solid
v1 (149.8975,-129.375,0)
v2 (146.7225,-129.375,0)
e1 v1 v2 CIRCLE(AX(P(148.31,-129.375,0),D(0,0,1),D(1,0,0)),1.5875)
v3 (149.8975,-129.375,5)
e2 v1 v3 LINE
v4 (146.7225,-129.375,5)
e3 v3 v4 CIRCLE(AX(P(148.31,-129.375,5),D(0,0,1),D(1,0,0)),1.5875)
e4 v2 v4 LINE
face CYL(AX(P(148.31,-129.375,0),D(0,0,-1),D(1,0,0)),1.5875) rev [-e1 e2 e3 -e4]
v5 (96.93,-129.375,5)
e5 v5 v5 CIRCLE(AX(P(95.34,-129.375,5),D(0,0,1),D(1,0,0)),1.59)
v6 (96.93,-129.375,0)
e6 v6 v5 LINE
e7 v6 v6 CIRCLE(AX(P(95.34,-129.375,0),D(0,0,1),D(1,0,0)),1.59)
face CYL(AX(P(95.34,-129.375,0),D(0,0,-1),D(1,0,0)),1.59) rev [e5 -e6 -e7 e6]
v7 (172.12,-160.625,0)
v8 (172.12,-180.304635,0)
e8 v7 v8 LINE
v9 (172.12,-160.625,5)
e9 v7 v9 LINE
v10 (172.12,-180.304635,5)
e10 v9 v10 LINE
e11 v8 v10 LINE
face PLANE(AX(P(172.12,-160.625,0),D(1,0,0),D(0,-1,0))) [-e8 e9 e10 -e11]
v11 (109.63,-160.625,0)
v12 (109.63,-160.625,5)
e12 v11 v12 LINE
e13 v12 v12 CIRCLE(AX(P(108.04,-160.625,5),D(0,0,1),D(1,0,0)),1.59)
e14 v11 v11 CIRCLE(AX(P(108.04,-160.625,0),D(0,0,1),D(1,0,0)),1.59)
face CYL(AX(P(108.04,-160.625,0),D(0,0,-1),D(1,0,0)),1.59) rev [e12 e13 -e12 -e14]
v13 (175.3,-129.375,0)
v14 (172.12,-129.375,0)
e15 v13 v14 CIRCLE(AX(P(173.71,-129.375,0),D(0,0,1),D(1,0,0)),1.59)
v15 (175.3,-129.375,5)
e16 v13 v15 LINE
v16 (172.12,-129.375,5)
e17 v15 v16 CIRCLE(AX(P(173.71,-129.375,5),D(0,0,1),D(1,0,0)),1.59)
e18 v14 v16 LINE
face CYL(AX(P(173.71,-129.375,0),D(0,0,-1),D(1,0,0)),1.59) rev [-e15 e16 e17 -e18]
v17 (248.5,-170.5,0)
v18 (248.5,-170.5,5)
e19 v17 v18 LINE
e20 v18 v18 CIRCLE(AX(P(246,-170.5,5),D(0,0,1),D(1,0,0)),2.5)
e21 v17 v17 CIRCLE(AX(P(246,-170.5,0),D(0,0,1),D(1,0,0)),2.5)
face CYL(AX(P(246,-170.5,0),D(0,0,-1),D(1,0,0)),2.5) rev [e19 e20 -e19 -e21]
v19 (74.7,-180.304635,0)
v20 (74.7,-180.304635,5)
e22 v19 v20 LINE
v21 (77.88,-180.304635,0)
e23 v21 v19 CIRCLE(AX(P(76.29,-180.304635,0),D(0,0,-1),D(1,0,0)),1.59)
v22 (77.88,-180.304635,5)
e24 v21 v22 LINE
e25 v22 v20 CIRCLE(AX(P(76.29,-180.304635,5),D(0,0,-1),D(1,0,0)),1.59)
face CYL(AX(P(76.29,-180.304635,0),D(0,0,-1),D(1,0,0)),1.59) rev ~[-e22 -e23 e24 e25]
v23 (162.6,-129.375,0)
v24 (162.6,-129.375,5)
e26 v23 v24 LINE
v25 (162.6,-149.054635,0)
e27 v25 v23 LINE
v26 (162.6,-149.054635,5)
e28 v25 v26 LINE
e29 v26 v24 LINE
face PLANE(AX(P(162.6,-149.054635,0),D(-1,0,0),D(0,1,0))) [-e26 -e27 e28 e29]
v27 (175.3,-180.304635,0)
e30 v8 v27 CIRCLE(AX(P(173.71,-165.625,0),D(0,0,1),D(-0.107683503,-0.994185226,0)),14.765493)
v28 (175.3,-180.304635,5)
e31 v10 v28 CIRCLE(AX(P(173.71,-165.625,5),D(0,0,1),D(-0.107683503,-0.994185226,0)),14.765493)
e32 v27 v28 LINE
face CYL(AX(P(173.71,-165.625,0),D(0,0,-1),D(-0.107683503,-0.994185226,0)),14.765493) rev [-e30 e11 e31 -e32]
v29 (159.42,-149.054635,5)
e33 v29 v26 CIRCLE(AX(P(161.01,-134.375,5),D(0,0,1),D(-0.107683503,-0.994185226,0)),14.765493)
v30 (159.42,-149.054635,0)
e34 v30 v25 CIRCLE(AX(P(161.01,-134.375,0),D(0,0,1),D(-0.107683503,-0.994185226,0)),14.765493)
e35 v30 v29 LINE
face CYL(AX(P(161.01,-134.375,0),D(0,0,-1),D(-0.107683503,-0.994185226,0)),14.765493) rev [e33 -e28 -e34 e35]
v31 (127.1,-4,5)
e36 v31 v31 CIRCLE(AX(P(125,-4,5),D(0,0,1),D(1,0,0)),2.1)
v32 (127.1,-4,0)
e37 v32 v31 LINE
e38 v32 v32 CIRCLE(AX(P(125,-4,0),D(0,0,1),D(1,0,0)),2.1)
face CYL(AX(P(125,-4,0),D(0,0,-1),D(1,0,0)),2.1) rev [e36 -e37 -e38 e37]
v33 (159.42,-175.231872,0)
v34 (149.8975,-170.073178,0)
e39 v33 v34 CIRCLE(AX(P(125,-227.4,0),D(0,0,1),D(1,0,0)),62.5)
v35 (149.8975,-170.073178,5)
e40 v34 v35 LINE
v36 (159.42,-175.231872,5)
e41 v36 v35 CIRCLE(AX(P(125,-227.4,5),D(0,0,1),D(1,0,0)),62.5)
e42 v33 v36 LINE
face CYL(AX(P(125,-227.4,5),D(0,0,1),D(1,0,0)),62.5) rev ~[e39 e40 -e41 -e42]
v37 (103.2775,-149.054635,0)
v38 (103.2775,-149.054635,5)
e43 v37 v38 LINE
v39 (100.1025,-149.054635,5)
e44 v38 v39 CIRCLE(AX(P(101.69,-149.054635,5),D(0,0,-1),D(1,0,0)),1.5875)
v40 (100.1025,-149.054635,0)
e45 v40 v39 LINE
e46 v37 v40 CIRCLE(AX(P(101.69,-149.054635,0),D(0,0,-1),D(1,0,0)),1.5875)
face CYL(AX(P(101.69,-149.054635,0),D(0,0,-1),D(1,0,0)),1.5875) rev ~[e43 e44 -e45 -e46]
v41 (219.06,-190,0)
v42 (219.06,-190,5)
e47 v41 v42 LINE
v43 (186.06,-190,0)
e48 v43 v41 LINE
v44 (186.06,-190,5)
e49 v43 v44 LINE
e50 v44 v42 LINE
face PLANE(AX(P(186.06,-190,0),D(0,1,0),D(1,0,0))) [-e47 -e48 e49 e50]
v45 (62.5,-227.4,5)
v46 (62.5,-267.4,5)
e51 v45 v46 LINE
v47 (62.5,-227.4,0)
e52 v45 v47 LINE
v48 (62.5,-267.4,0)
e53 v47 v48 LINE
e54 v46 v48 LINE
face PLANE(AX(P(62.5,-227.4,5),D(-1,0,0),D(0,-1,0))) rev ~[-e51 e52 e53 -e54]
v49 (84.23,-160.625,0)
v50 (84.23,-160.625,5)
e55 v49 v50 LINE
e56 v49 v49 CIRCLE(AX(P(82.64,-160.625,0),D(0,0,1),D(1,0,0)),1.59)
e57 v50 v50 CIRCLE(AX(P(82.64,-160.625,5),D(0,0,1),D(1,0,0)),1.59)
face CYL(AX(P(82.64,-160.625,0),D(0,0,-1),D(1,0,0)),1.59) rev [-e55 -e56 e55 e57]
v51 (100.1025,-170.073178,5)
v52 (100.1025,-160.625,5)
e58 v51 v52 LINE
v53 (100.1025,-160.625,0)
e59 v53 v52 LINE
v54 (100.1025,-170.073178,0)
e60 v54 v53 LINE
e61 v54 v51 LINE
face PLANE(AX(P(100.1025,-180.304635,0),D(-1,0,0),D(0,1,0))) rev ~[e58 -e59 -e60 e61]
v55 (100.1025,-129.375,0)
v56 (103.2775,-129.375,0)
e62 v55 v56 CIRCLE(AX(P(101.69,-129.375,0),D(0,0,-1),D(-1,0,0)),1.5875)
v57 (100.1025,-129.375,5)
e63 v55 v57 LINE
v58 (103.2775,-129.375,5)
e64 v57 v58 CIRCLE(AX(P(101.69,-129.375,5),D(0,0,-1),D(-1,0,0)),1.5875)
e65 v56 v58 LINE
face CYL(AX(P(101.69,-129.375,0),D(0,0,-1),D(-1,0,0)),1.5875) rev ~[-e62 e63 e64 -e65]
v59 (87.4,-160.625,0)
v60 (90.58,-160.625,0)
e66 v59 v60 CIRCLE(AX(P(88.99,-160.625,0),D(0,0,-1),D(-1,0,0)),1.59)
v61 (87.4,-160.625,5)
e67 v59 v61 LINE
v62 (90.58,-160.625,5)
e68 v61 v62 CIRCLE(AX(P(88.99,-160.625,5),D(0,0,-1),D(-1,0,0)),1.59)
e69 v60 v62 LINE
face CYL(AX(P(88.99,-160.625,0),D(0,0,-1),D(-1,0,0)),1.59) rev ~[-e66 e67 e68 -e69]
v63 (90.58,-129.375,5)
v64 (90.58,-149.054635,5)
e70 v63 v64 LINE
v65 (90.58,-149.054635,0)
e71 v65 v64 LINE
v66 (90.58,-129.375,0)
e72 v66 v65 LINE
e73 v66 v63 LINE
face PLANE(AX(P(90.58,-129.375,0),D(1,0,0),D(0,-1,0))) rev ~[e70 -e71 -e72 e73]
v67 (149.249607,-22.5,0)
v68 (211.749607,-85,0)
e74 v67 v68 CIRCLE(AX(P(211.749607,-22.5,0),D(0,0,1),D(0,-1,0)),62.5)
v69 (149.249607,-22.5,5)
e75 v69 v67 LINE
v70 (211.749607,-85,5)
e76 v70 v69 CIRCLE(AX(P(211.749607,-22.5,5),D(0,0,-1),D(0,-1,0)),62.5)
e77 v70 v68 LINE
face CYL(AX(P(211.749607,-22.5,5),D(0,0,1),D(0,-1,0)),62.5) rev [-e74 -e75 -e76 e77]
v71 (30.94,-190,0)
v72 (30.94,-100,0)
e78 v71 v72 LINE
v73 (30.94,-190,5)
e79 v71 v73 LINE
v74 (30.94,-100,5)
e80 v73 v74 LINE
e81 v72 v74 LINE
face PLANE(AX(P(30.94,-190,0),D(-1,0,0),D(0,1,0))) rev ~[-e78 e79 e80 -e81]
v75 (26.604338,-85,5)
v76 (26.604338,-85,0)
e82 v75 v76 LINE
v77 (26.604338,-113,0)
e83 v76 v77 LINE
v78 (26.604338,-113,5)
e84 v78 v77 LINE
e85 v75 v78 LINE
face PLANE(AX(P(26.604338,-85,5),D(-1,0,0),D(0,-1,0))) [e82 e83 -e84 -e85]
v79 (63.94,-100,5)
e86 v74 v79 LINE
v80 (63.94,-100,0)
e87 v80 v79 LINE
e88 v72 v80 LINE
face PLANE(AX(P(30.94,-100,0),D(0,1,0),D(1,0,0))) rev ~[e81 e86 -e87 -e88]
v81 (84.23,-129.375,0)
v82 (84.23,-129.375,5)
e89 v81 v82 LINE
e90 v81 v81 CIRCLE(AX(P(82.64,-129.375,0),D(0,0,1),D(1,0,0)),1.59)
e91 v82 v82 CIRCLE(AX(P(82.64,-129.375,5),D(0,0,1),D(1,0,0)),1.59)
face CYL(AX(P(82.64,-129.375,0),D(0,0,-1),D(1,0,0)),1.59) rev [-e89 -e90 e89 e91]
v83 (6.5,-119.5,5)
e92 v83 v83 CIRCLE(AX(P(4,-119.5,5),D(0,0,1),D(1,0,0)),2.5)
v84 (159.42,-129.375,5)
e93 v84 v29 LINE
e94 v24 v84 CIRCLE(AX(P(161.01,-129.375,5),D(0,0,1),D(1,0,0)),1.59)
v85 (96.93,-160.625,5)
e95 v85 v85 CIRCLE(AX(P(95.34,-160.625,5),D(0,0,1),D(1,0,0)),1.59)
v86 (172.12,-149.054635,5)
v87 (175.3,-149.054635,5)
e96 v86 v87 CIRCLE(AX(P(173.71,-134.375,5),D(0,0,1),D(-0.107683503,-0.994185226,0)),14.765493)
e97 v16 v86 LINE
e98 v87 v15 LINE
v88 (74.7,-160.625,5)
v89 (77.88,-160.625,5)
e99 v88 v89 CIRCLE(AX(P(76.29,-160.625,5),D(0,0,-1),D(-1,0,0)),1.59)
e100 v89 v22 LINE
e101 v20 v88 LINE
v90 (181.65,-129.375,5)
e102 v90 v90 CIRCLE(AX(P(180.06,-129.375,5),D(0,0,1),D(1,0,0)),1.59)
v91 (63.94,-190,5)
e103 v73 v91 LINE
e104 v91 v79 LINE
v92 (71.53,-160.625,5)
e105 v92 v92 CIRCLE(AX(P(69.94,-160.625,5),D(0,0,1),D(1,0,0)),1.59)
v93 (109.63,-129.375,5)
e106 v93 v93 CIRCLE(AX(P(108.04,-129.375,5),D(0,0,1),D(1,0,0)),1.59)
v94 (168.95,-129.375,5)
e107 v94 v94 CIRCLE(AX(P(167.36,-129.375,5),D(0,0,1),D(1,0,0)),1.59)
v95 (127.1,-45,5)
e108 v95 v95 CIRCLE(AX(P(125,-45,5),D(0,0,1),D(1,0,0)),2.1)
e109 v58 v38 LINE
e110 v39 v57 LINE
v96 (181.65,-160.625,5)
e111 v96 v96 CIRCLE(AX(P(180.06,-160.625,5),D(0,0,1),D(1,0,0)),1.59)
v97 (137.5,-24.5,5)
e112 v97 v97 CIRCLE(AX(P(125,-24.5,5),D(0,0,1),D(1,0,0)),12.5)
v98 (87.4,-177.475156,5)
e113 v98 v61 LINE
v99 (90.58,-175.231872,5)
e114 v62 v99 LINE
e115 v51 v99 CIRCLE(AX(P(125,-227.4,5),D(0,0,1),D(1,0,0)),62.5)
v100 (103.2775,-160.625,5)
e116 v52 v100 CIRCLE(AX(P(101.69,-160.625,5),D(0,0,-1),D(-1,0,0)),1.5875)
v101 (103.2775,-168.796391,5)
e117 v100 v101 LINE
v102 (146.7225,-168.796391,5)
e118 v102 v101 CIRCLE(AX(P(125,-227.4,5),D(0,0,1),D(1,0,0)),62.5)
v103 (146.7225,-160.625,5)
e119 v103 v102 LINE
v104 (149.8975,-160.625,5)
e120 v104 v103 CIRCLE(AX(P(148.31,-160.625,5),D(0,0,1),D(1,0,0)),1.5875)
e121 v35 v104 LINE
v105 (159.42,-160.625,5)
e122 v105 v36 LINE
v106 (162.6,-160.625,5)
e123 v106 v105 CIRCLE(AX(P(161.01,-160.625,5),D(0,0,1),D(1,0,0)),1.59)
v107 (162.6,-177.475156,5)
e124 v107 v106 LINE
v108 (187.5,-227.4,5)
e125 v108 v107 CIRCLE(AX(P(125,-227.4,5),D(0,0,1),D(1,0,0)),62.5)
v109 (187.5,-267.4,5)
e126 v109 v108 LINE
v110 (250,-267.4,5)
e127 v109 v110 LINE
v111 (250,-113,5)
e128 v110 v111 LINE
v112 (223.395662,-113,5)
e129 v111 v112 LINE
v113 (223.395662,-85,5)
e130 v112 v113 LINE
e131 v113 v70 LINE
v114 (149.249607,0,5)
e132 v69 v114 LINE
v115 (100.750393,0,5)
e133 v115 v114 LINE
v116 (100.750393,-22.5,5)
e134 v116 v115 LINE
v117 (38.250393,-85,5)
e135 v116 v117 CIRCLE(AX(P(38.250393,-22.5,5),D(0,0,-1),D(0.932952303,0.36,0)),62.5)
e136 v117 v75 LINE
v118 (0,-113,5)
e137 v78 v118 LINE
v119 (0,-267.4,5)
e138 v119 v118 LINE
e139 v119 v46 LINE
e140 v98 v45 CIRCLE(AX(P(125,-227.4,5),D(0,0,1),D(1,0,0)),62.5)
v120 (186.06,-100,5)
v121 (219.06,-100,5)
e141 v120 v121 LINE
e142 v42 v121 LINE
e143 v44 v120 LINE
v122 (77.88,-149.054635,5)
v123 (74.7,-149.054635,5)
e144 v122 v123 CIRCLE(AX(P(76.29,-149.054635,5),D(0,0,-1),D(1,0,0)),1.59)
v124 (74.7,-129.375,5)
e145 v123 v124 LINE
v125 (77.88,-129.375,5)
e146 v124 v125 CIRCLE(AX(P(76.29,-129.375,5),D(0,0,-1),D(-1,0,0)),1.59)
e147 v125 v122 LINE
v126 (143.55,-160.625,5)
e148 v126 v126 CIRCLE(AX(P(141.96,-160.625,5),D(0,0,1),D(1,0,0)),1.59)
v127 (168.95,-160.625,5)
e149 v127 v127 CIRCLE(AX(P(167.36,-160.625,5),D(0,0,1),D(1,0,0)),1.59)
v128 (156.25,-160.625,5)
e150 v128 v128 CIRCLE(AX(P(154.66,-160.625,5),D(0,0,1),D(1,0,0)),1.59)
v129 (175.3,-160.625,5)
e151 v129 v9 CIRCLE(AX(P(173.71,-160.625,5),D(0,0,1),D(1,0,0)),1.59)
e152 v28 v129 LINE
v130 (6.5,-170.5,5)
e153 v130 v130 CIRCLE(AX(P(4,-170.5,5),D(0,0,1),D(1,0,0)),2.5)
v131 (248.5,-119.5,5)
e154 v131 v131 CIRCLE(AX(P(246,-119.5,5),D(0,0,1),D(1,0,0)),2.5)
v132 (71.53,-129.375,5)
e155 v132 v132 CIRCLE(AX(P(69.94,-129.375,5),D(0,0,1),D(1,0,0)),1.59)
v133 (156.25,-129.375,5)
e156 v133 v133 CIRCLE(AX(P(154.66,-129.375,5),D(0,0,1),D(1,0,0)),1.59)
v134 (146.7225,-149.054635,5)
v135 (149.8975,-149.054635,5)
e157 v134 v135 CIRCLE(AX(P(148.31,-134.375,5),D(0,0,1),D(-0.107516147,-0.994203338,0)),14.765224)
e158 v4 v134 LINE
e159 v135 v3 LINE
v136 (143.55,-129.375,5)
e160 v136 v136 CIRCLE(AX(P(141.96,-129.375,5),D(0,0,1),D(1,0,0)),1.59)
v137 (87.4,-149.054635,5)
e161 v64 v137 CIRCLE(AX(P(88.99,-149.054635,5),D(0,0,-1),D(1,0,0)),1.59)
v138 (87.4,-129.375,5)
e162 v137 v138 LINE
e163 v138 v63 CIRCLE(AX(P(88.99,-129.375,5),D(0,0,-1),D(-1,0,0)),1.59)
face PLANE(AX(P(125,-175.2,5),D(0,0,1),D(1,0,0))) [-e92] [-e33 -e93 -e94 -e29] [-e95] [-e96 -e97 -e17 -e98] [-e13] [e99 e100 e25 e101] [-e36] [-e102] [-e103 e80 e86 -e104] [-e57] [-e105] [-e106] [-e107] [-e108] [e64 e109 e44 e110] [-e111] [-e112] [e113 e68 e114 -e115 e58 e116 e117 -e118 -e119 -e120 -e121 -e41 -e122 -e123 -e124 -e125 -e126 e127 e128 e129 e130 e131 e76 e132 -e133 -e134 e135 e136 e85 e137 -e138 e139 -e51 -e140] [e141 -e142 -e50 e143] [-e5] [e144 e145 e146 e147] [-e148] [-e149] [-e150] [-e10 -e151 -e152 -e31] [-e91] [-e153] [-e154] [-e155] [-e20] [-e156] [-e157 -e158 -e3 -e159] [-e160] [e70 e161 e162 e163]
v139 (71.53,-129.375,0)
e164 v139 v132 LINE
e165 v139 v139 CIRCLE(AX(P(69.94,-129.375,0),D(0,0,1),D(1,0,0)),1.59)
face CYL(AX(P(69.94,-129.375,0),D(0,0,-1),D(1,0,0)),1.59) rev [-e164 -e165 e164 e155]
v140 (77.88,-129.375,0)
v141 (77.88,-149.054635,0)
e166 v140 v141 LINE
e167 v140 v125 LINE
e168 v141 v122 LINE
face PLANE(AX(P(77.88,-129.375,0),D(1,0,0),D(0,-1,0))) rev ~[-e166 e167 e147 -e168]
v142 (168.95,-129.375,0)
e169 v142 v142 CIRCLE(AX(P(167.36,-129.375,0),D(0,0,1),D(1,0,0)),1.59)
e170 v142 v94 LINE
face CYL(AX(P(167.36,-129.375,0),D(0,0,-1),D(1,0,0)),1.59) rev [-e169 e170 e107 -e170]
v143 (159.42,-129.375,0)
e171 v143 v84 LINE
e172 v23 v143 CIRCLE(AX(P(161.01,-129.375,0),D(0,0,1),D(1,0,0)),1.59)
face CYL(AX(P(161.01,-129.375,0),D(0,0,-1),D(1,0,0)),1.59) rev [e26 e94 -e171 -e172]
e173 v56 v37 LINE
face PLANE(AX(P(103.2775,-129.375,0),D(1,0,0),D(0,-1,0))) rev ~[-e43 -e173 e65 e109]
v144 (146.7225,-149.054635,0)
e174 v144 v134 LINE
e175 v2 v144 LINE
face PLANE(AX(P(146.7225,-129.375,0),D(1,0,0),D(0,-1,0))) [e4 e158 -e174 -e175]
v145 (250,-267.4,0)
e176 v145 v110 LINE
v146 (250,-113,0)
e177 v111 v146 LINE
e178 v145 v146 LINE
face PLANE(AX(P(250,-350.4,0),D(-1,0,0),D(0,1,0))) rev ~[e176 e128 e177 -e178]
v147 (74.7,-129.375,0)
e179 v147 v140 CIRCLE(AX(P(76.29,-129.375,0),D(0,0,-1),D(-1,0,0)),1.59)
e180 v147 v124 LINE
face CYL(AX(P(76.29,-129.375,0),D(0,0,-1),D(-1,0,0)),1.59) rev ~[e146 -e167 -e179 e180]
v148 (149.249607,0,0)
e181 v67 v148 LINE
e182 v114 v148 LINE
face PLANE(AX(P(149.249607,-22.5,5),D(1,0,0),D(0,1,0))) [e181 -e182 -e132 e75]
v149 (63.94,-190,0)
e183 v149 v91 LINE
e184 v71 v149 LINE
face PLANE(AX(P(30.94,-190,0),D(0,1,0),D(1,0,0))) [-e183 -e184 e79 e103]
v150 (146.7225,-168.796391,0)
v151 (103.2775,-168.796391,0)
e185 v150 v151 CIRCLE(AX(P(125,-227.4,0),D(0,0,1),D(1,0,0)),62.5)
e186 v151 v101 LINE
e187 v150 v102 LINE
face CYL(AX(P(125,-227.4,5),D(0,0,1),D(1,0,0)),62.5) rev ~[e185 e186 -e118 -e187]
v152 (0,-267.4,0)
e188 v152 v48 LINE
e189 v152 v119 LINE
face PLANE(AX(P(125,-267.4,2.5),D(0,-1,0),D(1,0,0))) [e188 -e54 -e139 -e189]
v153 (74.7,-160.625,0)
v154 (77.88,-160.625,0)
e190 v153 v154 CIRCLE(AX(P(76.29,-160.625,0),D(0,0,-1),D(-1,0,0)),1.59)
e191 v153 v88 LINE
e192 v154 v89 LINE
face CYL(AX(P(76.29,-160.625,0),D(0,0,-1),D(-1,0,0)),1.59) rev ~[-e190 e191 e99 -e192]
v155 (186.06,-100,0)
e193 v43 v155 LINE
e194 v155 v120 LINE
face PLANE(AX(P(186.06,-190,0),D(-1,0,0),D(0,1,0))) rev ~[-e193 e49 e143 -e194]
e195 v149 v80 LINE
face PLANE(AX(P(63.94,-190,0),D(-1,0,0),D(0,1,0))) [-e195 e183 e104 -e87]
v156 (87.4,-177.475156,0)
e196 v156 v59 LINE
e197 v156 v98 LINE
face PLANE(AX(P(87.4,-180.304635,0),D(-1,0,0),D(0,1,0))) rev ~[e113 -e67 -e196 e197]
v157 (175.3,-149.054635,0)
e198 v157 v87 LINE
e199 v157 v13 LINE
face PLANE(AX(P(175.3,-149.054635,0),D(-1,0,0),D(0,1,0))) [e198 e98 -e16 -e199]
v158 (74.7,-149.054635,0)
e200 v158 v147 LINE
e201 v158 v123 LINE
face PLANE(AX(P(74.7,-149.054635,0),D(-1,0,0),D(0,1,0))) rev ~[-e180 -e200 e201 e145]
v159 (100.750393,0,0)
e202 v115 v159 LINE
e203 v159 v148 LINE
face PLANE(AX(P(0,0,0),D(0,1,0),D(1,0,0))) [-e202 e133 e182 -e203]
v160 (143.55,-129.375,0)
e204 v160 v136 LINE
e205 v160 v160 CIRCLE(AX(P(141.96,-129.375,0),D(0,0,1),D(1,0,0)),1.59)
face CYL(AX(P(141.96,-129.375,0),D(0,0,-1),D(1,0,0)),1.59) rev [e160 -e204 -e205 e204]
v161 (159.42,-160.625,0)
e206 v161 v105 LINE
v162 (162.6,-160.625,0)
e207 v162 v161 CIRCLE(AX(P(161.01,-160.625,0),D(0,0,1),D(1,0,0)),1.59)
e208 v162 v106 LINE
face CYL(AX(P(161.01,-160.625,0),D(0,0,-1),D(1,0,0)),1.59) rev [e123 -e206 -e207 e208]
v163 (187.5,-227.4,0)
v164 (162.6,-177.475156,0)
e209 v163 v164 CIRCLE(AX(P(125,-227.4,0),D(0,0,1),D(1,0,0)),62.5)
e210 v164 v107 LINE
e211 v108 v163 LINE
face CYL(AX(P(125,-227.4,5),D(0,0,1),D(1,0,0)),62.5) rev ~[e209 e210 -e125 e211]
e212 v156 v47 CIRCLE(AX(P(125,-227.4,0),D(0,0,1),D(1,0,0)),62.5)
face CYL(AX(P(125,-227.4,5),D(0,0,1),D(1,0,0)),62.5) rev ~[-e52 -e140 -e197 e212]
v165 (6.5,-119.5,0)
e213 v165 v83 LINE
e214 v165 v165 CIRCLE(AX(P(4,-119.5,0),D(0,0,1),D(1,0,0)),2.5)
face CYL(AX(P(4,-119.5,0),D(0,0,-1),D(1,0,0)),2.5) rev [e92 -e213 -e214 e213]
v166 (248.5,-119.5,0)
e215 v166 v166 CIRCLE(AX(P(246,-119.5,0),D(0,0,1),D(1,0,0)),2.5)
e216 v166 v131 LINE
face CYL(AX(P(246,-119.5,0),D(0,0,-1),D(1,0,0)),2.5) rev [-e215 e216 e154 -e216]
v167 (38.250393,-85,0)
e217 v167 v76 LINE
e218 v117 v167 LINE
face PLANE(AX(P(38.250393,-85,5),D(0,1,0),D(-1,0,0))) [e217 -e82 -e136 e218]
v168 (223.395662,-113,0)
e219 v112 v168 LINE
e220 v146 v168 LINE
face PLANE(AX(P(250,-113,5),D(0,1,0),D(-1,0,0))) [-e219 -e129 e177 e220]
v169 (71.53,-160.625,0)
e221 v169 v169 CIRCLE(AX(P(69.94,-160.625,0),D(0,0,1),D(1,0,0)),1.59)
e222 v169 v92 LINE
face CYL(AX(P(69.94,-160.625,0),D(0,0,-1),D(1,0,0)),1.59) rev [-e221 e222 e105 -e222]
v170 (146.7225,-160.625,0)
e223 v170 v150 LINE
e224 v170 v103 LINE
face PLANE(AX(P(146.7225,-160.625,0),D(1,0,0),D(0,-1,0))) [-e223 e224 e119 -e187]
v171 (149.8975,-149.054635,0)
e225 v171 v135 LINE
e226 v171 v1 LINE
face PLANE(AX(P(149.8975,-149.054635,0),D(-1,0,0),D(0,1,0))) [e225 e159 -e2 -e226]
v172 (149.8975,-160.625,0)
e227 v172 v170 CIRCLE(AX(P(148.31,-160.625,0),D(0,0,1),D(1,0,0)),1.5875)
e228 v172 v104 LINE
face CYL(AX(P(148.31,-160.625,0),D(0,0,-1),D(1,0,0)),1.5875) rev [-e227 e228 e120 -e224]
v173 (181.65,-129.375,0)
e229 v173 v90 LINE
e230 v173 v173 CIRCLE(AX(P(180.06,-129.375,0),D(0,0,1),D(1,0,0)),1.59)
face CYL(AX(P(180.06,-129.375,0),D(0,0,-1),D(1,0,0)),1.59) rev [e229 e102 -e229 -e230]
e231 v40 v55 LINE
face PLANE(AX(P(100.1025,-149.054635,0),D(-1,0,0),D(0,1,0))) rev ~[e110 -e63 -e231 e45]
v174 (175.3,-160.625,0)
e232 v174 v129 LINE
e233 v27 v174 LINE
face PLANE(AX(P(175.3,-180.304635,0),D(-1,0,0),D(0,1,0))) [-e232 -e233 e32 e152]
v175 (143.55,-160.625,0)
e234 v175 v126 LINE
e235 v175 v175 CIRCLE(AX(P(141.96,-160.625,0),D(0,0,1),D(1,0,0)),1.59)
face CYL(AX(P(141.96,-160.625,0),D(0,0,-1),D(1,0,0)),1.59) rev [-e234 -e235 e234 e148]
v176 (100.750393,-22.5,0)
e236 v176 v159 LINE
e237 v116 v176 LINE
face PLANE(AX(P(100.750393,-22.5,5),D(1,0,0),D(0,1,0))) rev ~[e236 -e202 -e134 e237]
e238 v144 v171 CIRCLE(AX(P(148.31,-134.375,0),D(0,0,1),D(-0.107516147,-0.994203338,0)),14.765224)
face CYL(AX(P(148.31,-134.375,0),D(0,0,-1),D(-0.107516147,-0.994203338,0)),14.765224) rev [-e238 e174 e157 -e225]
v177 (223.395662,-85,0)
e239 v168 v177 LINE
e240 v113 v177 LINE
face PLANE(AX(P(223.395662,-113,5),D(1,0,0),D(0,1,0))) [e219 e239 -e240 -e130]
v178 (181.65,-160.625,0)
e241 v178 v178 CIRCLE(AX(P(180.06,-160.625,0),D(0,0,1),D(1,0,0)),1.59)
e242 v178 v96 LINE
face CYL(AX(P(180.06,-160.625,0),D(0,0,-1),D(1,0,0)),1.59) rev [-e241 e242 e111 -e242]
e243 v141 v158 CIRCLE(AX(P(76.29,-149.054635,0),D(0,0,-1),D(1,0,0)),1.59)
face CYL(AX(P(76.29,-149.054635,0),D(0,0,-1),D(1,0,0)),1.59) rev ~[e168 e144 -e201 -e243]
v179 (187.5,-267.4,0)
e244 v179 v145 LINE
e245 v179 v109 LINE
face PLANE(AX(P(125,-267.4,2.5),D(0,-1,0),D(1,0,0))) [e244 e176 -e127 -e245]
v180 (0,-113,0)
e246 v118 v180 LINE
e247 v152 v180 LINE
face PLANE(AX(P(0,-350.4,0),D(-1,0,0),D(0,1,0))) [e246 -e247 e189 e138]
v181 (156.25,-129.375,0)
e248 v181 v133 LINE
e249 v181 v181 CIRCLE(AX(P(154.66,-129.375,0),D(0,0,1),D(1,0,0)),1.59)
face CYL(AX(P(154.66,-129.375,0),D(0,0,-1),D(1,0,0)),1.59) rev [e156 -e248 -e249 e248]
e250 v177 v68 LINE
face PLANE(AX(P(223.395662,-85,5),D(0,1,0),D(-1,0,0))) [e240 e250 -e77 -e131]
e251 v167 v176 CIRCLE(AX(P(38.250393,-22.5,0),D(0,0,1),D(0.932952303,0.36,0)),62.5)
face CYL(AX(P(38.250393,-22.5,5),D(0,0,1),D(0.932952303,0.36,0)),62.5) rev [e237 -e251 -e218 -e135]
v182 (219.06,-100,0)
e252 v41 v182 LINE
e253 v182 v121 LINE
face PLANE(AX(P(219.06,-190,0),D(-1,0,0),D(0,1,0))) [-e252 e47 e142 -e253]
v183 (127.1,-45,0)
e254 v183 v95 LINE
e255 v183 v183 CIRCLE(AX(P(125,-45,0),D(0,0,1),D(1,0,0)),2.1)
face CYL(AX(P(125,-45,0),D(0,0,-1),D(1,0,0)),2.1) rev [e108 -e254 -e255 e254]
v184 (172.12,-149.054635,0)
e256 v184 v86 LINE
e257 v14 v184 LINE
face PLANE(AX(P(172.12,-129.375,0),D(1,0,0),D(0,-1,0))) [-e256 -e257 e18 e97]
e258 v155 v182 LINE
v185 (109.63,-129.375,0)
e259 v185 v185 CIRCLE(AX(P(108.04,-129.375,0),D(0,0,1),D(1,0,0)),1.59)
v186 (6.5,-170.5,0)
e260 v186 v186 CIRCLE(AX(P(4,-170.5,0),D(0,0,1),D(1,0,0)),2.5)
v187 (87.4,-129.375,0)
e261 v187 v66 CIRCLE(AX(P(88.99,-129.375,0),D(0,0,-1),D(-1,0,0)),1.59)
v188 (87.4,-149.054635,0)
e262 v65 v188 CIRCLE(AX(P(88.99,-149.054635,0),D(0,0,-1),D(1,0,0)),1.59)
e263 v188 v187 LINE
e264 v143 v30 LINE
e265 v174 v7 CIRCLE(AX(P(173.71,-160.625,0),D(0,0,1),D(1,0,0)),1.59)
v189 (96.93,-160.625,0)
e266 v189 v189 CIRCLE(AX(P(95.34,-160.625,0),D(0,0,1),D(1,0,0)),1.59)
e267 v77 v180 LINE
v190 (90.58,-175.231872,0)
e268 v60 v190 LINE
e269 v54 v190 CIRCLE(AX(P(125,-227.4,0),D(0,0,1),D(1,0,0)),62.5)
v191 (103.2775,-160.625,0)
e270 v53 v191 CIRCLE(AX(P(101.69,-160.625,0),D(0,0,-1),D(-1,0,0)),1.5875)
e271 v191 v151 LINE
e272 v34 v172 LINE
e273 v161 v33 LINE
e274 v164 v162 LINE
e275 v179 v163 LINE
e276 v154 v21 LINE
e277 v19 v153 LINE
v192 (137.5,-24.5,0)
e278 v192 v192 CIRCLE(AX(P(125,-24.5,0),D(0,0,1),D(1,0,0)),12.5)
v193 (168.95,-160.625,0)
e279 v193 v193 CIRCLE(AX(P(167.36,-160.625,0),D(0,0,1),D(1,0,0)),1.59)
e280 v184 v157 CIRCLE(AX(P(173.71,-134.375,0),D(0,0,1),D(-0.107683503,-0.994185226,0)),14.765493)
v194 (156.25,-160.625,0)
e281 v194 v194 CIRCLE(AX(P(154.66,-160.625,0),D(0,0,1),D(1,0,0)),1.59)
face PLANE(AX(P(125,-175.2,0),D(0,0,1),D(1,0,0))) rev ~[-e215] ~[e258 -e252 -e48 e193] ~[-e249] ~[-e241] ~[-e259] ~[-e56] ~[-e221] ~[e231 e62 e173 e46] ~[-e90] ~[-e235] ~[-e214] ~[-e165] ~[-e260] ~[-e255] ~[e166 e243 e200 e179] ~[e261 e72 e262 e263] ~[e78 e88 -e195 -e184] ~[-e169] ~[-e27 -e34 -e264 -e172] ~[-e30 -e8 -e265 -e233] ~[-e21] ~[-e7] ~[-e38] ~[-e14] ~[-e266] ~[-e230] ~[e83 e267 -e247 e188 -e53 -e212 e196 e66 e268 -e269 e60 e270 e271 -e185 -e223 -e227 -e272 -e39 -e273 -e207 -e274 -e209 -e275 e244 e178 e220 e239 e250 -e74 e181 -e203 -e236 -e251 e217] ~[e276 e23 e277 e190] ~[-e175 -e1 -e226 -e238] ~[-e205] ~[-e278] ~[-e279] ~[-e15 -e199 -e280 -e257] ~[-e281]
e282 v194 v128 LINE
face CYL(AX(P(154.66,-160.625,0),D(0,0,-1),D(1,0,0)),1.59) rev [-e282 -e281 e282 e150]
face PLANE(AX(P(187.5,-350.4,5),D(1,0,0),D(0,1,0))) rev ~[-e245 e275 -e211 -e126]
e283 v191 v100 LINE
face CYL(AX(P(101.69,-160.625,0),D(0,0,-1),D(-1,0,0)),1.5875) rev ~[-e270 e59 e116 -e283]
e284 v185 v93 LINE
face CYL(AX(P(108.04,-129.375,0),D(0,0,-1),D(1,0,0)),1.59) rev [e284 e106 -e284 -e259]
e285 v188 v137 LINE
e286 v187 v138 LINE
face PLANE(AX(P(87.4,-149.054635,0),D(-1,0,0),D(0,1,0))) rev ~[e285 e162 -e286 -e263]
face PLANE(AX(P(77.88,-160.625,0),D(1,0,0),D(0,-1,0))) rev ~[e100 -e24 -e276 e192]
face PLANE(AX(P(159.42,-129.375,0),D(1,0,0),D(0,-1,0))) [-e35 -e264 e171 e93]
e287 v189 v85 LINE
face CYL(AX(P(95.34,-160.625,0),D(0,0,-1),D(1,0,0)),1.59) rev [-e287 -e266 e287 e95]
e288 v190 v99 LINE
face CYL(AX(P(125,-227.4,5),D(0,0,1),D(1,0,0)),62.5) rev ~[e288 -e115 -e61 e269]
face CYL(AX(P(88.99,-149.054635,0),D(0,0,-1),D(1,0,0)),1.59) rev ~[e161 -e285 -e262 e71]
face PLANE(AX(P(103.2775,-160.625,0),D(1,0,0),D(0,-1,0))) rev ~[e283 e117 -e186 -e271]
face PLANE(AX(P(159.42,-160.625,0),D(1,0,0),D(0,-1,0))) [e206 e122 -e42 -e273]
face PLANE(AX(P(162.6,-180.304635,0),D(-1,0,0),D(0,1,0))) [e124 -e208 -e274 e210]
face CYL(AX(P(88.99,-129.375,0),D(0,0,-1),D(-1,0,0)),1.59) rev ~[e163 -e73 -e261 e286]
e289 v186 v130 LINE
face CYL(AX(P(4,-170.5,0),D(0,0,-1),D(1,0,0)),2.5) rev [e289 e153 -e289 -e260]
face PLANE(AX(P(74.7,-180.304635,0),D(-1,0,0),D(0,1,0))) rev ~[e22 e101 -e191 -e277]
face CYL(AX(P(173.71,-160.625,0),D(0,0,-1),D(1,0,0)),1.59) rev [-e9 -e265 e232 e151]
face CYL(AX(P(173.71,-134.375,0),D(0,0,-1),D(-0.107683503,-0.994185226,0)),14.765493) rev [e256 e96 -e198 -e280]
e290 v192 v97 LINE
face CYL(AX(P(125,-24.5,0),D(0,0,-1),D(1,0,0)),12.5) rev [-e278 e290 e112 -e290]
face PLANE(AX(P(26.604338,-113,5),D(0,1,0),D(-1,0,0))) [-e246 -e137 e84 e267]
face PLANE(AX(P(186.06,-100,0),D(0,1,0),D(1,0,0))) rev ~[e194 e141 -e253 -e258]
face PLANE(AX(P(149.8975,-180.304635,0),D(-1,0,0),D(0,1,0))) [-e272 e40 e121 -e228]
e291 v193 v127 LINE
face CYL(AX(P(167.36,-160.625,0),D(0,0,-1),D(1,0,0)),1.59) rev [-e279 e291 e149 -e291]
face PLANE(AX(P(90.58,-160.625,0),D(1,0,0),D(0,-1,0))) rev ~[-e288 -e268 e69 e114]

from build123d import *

# Parameters (mm, degrees)
SKETCH1_W           = 250
SKETCH1_H           = 350.4
SKETCH1_R           = 2.1
SKETCH1_R_2         = 2.5
SKETCH1_R_3         = 1.59
SKETCH1_R_4         = 12.5
SKETCH1_W_2         = 33
SKETCH1_H_2         = 90
BOSS_EXTRUDE1_DEPTH = 5
SKETCH12_W          = 250
SKETCH12_H          = 5
CUT_EXTRUDE2_DEPTH  = 83
CUT_EXTRUDE3_DEPTH  = 6
SKETCH15_W          = 20.294476706
SKETCH15_H          = 22.5
SKETCH15_W_2        = 16.246360579
CUT_EXTRUDE4_DEPTH  = 10


with BuildPart() as part:
    # Sketch1 → Boss-Extrude1 (new body)
    with BuildSketch(Plane.XY):
        with Locations((125, -175.2)):
            Rectangle(SKETCH1_W, SKETCH1_H)
        with Locations((125, -45)):
            Circle(SKETCH1_R, mode=Mode.SUBTRACT)
        with Locations((125, -4)):
            Circle(SKETCH1_R, mode=Mode.SUBTRACT)
        with Locations((246, -119.5)):
            Circle(SKETCH1_R_2, mode=Mode.SUBTRACT)
        with Locations((246, -170.5)):
            Circle(SKETCH1_R_2, mode=Mode.SUBTRACT)
        with Locations((180.06, -129.375)):
            Circle(SKETCH1_R_3, mode=Mode.SUBTRACT)
        with Locations((180.06, -160.625)):
            Circle(SKETCH1_R_3, mode=Mode.SUBTRACT)
        with Locations((125, -24.5)):
            Circle(SKETCH1_R_4, mode=Mode.SUBTRACT)
        with Locations((141.96, -129.375)):
            Circle(SKETCH1_R_3, mode=Mode.SUBTRACT)
        with Locations((154.66, -129.375)):
            Circle(SKETCH1_R_3, mode=Mode.SUBTRACT)
        with Locations((167.36, -129.375)):
            Circle(SKETCH1_R_3, mode=Mode.SUBTRACT)
        with Locations((141.96, -160.625)):
            Circle(SKETCH1_R_3, mode=Mode.SUBTRACT)
        with Locations((154.66, -160.625)):
            Circle(SKETCH1_R_3, mode=Mode.SUBTRACT)
        with Locations((167.36, -160.625)):
            Circle(SKETCH1_R_3, mode=Mode.SUBTRACT)
        with Locations((82.64, -160.625)):
            Circle(SKETCH1_R_3, mode=Mode.SUBTRACT)
        with Locations((95.34, -160.625)):
            Circle(SKETCH1_R_3, mode=Mode.SUBTRACT)
        with Locations((108.04, -160.625)):
            Circle(SKETCH1_R_3, mode=Mode.SUBTRACT)
        with Locations((82.64, -129.375)):
            Circle(SKETCH1_R_3, mode=Mode.SUBTRACT)
        with Locations((95.34, -129.375)):
            Circle(SKETCH1_R_3, mode=Mode.SUBTRACT)
        with Locations((108.04, -129.375)):
            Circle(SKETCH1_R_3, mode=Mode.SUBTRACT)
        with Locations((69.94, -160.625)):
            Circle(SKETCH1_R_3, mode=Mode.SUBTRACT)
        with Locations((69.94, -129.375)):
            Circle(SKETCH1_R_3, mode=Mode.SUBTRACT)
        with Locations((4, -170.5)):
            Circle(SKETCH1_R_2, mode=Mode.SUBTRACT)
        with Locations((4, -119.5)):
            Circle(SKETCH1_R_2, mode=Mode.SUBTRACT)
        with Locations((202.56, -145)):
            Rectangle(SKETCH1_W_2, SKETCH1_H_2, mode=Mode.SUBTRACT)
        with BuildLine():
            Line((146.7225, -129.375), (146.7225, -149.054634918))
            ThreePointArc((146.7225, -149.054634918), (148.31, -149.140223925), (149.8975, -149.054634918))
            Line((149.8975, -149.054634918), (149.8975, -129.375))
            ThreePointArc((149.8975, -129.375), (148.31, -127.7875), (146.7225, -129.375))
        make_face(mode=Mode.SUBTRACT)
        with BuildLine():
            Line((159.42, -129.375), (159.42, -149.054634918))
            ThreePointArc((159.42, -149.054634918), (161.01, -149.140492925), (162.6, -149.054634918))
            Line((162.6, -149.054634918), (162.6, -129.375))
            ThreePointArc((162.6, -129.375), (161.01, -127.785), (159.42, -129.375))
        make_face(mode=Mode.SUBTRACT)
        with BuildLine():
            Line((172.12, -129.375), (172.12, -149.054634918))
            ThreePointArc((172.12, -149.054634918), (173.71, -149.140492925), (175.3, -149.054634918))
            Line((175.3, -149.054634918), (175.3, -129.375))
            ThreePointArc((175.3, -129.375), (173.71, -127.785), (172.12, -129.375))
        make_face(mode=Mode.SUBTRACT)
        with BuildLine():
            Line((146.7225, -160.625), (146.7225, -180.304634918))
            ThreePointArc((146.7225, -180.304634918), (148.31, -180.390223925), (149.8975, -180.304634918))
            Line((149.8975, -180.304634918), (149.8975, -160.625))
            ThreePointArc((149.8975, -160.625), (148.31, -159.0375), (146.7225, -160.625))
        make_face(mode=Mode.SUBTRACT)
        with BuildLine():
            Line((159.42, -160.625), (159.42, -180.304634918))
            ThreePointArc((159.42, -180.304634918), (161.01, -180.390492925), (162.6, -180.304634918))
            Line((162.6, -180.304634918), (162.6, -160.625))
            ThreePointArc((162.6, -160.625), (161.01, -159.035), (159.42, -160.625))
        make_face(mode=Mode.SUBTRACT)
        with BuildLine():
            Line((172.12, -160.625), (172.12, -180.304634918))
            ThreePointArc((172.12, -180.304634918), (173.71, -180.390492925), (175.3, -180.304634918))
            Line((175.3, -180.304634918), (175.3, -160.625))
            ThreePointArc((175.3, -160.625), (173.71, -159.035), (172.12, -160.625))
        make_face(mode=Mode.SUBTRACT)
        with BuildLine():
            Line((103.2775, -129.375), (103.2775, -149.054634918))
            ThreePointArc((103.2775, -149.054634918), (101.69, -150.642134918), (100.1025, -149.054634918))
            Line((100.1025, -149.054634918), (100.1025, -129.375))
            ThreePointArc((100.1025, -129.375), (101.69, -127.7875), (103.2775, -129.375))
        make_face(mode=Mode.SUBTRACT)
        with BuildLine():
            Line((90.58, -129.375), (90.58, -149.054634918))
            ThreePointArc((90.58, -149.054634918), (88.99, -150.644634918), (87.4, -149.054634918))
            Line((87.4, -149.054634918), (87.4, -129.375))
            ThreePointArc((87.4, -129.375), (88.99, -127.785), (90.58, -129.375))
        make_face(mode=Mode.SUBTRACT)
        with BuildLine():
            Line((77.88, -129.375), (77.88, -149.054634918))
            ThreePointArc((77.88, -149.054634918), (76.29, -150.644634918), (74.7, -149.054634918))
            Line((74.7, -149.054634918), (74.7, -129.375))
            ThreePointArc((74.7, -129.375), (76.29, -127.785), (77.88, -129.375))
        make_face(mode=Mode.SUBTRACT)
        with BuildLine():
            Line((103.2775, -160.625), (103.2775, -180.304634918))
            ThreePointArc((103.2775, -180.304634918), (101.69, -181.892134918), (100.1025, -180.304634918))
            Line((100.1025, -180.304634918), (100.1025, -160.625))
            ThreePointArc((100.1025, -160.625), (101.69, -159.0375), (103.2775, -160.625))
        make_face(mode=Mode.SUBTRACT)
        with BuildLine():
            Line((90.58, -160.625), (90.58, -180.304634918))
            ThreePointArc((90.58, -180.304634918), (88.99, -181.894634918), (87.4, -180.304634918))
            Line((87.4, -180.304634918), (87.4, -160.625))
            ThreePointArc((87.4, -160.625), (88.99, -159.035), (90.58, -160.625))
        make_face(mode=Mode.SUBTRACT)
        with BuildLine():
            Line((77.88, -160.625), (77.88, -180.304634918))
            ThreePointArc((77.88, -180.304634918), (76.29, -181.894634918), (74.7, -180.304634918))
            Line((74.7, -180.304634918), (74.7, -160.625))
            ThreePointArc((74.7, -160.625), (76.29, -159.035), (77.88, -160.625))
        make_face(mode=Mode.SUBTRACT)
        with Locations((47.44, -145)):
            Rectangle(SKETCH1_W_2, SKETCH1_H_2, mode=Mode.SUBTRACT)
    extrude(amount=BOSS_EXTRUDE1_DEPTH)

    # Sketch12 → Cut-Extrude2 (cut)
    with BuildSketch(Plane.XZ.offset(350.4)):
        with Locations((125, 2.5)):
            Rectangle(SKETCH12_W, SKETCH12_H)
    extrude(amount=-CUT_EXTRUDE2_DEPTH, mode=Mode.SUBTRACT)

    # Sketch13 → Cut-Extrude3 (cut, through all)
    with BuildSketch(Plane.XY.offset(5)):
        with BuildLine():
            Line((38.250392508, -85), (26.604338358, -85))
            Line((26.604338358, -85), (26.604338358, -113))
            Line((26.604338358, -113), (0, -113))
            Line((0, -113), (0, 0))
            Line((0, 0), (96.559911457, 0))
            ThreePointArc((96.559911457, 0), (89.789212828, -57.855339059), (38.250392508, -85))
        make_face()
        with BuildLine():
            Line((250, 0), (250, -113))
            Line((250, -113), (223.395661642, -113))
            Line((223.395661642, -113), (223.395661642, -85))
            Line((223.395661642, -85), (211.749607492, -85))
            ThreePointArc((211.749607492, -85), (160.210787172, -57.855339059), (153.440088543, 0))
            Line((153.440088543, 0), (250, 0))
        make_face()
        with BuildLine():
            Line((62.5, -227.4), (62.5, -350.4))
            Line((62.5, -350.4), (187.5, -350.4))
            Line((187.5, -350.4), (187.5, -227.4))
            ThreePointArc((187.5, -227.4), (125, -164.9), (62.5, -227.4))
        make_face()
    extrude(amount=-CUT_EXTRUDE3_DEPTH, mode=Mode.SUBTRACT)

    # Sketch15 → Cut-Extrude4 (cut)
    with BuildSketch(Plane.XY.offset(5)):
        with Locations((90.603154155, -11.25)):
            Rectangle(SKETCH15_W, SKETCH15_H)
        with Locations((157.372787781, -11.25)):
            Rectangle(SKETCH15_W_2, SKETCH15_H)
    extrude(amount=-CUT_EXTRUDE4_DEPTH, mode=Mode.SUBTRACT)


solid = part.part
